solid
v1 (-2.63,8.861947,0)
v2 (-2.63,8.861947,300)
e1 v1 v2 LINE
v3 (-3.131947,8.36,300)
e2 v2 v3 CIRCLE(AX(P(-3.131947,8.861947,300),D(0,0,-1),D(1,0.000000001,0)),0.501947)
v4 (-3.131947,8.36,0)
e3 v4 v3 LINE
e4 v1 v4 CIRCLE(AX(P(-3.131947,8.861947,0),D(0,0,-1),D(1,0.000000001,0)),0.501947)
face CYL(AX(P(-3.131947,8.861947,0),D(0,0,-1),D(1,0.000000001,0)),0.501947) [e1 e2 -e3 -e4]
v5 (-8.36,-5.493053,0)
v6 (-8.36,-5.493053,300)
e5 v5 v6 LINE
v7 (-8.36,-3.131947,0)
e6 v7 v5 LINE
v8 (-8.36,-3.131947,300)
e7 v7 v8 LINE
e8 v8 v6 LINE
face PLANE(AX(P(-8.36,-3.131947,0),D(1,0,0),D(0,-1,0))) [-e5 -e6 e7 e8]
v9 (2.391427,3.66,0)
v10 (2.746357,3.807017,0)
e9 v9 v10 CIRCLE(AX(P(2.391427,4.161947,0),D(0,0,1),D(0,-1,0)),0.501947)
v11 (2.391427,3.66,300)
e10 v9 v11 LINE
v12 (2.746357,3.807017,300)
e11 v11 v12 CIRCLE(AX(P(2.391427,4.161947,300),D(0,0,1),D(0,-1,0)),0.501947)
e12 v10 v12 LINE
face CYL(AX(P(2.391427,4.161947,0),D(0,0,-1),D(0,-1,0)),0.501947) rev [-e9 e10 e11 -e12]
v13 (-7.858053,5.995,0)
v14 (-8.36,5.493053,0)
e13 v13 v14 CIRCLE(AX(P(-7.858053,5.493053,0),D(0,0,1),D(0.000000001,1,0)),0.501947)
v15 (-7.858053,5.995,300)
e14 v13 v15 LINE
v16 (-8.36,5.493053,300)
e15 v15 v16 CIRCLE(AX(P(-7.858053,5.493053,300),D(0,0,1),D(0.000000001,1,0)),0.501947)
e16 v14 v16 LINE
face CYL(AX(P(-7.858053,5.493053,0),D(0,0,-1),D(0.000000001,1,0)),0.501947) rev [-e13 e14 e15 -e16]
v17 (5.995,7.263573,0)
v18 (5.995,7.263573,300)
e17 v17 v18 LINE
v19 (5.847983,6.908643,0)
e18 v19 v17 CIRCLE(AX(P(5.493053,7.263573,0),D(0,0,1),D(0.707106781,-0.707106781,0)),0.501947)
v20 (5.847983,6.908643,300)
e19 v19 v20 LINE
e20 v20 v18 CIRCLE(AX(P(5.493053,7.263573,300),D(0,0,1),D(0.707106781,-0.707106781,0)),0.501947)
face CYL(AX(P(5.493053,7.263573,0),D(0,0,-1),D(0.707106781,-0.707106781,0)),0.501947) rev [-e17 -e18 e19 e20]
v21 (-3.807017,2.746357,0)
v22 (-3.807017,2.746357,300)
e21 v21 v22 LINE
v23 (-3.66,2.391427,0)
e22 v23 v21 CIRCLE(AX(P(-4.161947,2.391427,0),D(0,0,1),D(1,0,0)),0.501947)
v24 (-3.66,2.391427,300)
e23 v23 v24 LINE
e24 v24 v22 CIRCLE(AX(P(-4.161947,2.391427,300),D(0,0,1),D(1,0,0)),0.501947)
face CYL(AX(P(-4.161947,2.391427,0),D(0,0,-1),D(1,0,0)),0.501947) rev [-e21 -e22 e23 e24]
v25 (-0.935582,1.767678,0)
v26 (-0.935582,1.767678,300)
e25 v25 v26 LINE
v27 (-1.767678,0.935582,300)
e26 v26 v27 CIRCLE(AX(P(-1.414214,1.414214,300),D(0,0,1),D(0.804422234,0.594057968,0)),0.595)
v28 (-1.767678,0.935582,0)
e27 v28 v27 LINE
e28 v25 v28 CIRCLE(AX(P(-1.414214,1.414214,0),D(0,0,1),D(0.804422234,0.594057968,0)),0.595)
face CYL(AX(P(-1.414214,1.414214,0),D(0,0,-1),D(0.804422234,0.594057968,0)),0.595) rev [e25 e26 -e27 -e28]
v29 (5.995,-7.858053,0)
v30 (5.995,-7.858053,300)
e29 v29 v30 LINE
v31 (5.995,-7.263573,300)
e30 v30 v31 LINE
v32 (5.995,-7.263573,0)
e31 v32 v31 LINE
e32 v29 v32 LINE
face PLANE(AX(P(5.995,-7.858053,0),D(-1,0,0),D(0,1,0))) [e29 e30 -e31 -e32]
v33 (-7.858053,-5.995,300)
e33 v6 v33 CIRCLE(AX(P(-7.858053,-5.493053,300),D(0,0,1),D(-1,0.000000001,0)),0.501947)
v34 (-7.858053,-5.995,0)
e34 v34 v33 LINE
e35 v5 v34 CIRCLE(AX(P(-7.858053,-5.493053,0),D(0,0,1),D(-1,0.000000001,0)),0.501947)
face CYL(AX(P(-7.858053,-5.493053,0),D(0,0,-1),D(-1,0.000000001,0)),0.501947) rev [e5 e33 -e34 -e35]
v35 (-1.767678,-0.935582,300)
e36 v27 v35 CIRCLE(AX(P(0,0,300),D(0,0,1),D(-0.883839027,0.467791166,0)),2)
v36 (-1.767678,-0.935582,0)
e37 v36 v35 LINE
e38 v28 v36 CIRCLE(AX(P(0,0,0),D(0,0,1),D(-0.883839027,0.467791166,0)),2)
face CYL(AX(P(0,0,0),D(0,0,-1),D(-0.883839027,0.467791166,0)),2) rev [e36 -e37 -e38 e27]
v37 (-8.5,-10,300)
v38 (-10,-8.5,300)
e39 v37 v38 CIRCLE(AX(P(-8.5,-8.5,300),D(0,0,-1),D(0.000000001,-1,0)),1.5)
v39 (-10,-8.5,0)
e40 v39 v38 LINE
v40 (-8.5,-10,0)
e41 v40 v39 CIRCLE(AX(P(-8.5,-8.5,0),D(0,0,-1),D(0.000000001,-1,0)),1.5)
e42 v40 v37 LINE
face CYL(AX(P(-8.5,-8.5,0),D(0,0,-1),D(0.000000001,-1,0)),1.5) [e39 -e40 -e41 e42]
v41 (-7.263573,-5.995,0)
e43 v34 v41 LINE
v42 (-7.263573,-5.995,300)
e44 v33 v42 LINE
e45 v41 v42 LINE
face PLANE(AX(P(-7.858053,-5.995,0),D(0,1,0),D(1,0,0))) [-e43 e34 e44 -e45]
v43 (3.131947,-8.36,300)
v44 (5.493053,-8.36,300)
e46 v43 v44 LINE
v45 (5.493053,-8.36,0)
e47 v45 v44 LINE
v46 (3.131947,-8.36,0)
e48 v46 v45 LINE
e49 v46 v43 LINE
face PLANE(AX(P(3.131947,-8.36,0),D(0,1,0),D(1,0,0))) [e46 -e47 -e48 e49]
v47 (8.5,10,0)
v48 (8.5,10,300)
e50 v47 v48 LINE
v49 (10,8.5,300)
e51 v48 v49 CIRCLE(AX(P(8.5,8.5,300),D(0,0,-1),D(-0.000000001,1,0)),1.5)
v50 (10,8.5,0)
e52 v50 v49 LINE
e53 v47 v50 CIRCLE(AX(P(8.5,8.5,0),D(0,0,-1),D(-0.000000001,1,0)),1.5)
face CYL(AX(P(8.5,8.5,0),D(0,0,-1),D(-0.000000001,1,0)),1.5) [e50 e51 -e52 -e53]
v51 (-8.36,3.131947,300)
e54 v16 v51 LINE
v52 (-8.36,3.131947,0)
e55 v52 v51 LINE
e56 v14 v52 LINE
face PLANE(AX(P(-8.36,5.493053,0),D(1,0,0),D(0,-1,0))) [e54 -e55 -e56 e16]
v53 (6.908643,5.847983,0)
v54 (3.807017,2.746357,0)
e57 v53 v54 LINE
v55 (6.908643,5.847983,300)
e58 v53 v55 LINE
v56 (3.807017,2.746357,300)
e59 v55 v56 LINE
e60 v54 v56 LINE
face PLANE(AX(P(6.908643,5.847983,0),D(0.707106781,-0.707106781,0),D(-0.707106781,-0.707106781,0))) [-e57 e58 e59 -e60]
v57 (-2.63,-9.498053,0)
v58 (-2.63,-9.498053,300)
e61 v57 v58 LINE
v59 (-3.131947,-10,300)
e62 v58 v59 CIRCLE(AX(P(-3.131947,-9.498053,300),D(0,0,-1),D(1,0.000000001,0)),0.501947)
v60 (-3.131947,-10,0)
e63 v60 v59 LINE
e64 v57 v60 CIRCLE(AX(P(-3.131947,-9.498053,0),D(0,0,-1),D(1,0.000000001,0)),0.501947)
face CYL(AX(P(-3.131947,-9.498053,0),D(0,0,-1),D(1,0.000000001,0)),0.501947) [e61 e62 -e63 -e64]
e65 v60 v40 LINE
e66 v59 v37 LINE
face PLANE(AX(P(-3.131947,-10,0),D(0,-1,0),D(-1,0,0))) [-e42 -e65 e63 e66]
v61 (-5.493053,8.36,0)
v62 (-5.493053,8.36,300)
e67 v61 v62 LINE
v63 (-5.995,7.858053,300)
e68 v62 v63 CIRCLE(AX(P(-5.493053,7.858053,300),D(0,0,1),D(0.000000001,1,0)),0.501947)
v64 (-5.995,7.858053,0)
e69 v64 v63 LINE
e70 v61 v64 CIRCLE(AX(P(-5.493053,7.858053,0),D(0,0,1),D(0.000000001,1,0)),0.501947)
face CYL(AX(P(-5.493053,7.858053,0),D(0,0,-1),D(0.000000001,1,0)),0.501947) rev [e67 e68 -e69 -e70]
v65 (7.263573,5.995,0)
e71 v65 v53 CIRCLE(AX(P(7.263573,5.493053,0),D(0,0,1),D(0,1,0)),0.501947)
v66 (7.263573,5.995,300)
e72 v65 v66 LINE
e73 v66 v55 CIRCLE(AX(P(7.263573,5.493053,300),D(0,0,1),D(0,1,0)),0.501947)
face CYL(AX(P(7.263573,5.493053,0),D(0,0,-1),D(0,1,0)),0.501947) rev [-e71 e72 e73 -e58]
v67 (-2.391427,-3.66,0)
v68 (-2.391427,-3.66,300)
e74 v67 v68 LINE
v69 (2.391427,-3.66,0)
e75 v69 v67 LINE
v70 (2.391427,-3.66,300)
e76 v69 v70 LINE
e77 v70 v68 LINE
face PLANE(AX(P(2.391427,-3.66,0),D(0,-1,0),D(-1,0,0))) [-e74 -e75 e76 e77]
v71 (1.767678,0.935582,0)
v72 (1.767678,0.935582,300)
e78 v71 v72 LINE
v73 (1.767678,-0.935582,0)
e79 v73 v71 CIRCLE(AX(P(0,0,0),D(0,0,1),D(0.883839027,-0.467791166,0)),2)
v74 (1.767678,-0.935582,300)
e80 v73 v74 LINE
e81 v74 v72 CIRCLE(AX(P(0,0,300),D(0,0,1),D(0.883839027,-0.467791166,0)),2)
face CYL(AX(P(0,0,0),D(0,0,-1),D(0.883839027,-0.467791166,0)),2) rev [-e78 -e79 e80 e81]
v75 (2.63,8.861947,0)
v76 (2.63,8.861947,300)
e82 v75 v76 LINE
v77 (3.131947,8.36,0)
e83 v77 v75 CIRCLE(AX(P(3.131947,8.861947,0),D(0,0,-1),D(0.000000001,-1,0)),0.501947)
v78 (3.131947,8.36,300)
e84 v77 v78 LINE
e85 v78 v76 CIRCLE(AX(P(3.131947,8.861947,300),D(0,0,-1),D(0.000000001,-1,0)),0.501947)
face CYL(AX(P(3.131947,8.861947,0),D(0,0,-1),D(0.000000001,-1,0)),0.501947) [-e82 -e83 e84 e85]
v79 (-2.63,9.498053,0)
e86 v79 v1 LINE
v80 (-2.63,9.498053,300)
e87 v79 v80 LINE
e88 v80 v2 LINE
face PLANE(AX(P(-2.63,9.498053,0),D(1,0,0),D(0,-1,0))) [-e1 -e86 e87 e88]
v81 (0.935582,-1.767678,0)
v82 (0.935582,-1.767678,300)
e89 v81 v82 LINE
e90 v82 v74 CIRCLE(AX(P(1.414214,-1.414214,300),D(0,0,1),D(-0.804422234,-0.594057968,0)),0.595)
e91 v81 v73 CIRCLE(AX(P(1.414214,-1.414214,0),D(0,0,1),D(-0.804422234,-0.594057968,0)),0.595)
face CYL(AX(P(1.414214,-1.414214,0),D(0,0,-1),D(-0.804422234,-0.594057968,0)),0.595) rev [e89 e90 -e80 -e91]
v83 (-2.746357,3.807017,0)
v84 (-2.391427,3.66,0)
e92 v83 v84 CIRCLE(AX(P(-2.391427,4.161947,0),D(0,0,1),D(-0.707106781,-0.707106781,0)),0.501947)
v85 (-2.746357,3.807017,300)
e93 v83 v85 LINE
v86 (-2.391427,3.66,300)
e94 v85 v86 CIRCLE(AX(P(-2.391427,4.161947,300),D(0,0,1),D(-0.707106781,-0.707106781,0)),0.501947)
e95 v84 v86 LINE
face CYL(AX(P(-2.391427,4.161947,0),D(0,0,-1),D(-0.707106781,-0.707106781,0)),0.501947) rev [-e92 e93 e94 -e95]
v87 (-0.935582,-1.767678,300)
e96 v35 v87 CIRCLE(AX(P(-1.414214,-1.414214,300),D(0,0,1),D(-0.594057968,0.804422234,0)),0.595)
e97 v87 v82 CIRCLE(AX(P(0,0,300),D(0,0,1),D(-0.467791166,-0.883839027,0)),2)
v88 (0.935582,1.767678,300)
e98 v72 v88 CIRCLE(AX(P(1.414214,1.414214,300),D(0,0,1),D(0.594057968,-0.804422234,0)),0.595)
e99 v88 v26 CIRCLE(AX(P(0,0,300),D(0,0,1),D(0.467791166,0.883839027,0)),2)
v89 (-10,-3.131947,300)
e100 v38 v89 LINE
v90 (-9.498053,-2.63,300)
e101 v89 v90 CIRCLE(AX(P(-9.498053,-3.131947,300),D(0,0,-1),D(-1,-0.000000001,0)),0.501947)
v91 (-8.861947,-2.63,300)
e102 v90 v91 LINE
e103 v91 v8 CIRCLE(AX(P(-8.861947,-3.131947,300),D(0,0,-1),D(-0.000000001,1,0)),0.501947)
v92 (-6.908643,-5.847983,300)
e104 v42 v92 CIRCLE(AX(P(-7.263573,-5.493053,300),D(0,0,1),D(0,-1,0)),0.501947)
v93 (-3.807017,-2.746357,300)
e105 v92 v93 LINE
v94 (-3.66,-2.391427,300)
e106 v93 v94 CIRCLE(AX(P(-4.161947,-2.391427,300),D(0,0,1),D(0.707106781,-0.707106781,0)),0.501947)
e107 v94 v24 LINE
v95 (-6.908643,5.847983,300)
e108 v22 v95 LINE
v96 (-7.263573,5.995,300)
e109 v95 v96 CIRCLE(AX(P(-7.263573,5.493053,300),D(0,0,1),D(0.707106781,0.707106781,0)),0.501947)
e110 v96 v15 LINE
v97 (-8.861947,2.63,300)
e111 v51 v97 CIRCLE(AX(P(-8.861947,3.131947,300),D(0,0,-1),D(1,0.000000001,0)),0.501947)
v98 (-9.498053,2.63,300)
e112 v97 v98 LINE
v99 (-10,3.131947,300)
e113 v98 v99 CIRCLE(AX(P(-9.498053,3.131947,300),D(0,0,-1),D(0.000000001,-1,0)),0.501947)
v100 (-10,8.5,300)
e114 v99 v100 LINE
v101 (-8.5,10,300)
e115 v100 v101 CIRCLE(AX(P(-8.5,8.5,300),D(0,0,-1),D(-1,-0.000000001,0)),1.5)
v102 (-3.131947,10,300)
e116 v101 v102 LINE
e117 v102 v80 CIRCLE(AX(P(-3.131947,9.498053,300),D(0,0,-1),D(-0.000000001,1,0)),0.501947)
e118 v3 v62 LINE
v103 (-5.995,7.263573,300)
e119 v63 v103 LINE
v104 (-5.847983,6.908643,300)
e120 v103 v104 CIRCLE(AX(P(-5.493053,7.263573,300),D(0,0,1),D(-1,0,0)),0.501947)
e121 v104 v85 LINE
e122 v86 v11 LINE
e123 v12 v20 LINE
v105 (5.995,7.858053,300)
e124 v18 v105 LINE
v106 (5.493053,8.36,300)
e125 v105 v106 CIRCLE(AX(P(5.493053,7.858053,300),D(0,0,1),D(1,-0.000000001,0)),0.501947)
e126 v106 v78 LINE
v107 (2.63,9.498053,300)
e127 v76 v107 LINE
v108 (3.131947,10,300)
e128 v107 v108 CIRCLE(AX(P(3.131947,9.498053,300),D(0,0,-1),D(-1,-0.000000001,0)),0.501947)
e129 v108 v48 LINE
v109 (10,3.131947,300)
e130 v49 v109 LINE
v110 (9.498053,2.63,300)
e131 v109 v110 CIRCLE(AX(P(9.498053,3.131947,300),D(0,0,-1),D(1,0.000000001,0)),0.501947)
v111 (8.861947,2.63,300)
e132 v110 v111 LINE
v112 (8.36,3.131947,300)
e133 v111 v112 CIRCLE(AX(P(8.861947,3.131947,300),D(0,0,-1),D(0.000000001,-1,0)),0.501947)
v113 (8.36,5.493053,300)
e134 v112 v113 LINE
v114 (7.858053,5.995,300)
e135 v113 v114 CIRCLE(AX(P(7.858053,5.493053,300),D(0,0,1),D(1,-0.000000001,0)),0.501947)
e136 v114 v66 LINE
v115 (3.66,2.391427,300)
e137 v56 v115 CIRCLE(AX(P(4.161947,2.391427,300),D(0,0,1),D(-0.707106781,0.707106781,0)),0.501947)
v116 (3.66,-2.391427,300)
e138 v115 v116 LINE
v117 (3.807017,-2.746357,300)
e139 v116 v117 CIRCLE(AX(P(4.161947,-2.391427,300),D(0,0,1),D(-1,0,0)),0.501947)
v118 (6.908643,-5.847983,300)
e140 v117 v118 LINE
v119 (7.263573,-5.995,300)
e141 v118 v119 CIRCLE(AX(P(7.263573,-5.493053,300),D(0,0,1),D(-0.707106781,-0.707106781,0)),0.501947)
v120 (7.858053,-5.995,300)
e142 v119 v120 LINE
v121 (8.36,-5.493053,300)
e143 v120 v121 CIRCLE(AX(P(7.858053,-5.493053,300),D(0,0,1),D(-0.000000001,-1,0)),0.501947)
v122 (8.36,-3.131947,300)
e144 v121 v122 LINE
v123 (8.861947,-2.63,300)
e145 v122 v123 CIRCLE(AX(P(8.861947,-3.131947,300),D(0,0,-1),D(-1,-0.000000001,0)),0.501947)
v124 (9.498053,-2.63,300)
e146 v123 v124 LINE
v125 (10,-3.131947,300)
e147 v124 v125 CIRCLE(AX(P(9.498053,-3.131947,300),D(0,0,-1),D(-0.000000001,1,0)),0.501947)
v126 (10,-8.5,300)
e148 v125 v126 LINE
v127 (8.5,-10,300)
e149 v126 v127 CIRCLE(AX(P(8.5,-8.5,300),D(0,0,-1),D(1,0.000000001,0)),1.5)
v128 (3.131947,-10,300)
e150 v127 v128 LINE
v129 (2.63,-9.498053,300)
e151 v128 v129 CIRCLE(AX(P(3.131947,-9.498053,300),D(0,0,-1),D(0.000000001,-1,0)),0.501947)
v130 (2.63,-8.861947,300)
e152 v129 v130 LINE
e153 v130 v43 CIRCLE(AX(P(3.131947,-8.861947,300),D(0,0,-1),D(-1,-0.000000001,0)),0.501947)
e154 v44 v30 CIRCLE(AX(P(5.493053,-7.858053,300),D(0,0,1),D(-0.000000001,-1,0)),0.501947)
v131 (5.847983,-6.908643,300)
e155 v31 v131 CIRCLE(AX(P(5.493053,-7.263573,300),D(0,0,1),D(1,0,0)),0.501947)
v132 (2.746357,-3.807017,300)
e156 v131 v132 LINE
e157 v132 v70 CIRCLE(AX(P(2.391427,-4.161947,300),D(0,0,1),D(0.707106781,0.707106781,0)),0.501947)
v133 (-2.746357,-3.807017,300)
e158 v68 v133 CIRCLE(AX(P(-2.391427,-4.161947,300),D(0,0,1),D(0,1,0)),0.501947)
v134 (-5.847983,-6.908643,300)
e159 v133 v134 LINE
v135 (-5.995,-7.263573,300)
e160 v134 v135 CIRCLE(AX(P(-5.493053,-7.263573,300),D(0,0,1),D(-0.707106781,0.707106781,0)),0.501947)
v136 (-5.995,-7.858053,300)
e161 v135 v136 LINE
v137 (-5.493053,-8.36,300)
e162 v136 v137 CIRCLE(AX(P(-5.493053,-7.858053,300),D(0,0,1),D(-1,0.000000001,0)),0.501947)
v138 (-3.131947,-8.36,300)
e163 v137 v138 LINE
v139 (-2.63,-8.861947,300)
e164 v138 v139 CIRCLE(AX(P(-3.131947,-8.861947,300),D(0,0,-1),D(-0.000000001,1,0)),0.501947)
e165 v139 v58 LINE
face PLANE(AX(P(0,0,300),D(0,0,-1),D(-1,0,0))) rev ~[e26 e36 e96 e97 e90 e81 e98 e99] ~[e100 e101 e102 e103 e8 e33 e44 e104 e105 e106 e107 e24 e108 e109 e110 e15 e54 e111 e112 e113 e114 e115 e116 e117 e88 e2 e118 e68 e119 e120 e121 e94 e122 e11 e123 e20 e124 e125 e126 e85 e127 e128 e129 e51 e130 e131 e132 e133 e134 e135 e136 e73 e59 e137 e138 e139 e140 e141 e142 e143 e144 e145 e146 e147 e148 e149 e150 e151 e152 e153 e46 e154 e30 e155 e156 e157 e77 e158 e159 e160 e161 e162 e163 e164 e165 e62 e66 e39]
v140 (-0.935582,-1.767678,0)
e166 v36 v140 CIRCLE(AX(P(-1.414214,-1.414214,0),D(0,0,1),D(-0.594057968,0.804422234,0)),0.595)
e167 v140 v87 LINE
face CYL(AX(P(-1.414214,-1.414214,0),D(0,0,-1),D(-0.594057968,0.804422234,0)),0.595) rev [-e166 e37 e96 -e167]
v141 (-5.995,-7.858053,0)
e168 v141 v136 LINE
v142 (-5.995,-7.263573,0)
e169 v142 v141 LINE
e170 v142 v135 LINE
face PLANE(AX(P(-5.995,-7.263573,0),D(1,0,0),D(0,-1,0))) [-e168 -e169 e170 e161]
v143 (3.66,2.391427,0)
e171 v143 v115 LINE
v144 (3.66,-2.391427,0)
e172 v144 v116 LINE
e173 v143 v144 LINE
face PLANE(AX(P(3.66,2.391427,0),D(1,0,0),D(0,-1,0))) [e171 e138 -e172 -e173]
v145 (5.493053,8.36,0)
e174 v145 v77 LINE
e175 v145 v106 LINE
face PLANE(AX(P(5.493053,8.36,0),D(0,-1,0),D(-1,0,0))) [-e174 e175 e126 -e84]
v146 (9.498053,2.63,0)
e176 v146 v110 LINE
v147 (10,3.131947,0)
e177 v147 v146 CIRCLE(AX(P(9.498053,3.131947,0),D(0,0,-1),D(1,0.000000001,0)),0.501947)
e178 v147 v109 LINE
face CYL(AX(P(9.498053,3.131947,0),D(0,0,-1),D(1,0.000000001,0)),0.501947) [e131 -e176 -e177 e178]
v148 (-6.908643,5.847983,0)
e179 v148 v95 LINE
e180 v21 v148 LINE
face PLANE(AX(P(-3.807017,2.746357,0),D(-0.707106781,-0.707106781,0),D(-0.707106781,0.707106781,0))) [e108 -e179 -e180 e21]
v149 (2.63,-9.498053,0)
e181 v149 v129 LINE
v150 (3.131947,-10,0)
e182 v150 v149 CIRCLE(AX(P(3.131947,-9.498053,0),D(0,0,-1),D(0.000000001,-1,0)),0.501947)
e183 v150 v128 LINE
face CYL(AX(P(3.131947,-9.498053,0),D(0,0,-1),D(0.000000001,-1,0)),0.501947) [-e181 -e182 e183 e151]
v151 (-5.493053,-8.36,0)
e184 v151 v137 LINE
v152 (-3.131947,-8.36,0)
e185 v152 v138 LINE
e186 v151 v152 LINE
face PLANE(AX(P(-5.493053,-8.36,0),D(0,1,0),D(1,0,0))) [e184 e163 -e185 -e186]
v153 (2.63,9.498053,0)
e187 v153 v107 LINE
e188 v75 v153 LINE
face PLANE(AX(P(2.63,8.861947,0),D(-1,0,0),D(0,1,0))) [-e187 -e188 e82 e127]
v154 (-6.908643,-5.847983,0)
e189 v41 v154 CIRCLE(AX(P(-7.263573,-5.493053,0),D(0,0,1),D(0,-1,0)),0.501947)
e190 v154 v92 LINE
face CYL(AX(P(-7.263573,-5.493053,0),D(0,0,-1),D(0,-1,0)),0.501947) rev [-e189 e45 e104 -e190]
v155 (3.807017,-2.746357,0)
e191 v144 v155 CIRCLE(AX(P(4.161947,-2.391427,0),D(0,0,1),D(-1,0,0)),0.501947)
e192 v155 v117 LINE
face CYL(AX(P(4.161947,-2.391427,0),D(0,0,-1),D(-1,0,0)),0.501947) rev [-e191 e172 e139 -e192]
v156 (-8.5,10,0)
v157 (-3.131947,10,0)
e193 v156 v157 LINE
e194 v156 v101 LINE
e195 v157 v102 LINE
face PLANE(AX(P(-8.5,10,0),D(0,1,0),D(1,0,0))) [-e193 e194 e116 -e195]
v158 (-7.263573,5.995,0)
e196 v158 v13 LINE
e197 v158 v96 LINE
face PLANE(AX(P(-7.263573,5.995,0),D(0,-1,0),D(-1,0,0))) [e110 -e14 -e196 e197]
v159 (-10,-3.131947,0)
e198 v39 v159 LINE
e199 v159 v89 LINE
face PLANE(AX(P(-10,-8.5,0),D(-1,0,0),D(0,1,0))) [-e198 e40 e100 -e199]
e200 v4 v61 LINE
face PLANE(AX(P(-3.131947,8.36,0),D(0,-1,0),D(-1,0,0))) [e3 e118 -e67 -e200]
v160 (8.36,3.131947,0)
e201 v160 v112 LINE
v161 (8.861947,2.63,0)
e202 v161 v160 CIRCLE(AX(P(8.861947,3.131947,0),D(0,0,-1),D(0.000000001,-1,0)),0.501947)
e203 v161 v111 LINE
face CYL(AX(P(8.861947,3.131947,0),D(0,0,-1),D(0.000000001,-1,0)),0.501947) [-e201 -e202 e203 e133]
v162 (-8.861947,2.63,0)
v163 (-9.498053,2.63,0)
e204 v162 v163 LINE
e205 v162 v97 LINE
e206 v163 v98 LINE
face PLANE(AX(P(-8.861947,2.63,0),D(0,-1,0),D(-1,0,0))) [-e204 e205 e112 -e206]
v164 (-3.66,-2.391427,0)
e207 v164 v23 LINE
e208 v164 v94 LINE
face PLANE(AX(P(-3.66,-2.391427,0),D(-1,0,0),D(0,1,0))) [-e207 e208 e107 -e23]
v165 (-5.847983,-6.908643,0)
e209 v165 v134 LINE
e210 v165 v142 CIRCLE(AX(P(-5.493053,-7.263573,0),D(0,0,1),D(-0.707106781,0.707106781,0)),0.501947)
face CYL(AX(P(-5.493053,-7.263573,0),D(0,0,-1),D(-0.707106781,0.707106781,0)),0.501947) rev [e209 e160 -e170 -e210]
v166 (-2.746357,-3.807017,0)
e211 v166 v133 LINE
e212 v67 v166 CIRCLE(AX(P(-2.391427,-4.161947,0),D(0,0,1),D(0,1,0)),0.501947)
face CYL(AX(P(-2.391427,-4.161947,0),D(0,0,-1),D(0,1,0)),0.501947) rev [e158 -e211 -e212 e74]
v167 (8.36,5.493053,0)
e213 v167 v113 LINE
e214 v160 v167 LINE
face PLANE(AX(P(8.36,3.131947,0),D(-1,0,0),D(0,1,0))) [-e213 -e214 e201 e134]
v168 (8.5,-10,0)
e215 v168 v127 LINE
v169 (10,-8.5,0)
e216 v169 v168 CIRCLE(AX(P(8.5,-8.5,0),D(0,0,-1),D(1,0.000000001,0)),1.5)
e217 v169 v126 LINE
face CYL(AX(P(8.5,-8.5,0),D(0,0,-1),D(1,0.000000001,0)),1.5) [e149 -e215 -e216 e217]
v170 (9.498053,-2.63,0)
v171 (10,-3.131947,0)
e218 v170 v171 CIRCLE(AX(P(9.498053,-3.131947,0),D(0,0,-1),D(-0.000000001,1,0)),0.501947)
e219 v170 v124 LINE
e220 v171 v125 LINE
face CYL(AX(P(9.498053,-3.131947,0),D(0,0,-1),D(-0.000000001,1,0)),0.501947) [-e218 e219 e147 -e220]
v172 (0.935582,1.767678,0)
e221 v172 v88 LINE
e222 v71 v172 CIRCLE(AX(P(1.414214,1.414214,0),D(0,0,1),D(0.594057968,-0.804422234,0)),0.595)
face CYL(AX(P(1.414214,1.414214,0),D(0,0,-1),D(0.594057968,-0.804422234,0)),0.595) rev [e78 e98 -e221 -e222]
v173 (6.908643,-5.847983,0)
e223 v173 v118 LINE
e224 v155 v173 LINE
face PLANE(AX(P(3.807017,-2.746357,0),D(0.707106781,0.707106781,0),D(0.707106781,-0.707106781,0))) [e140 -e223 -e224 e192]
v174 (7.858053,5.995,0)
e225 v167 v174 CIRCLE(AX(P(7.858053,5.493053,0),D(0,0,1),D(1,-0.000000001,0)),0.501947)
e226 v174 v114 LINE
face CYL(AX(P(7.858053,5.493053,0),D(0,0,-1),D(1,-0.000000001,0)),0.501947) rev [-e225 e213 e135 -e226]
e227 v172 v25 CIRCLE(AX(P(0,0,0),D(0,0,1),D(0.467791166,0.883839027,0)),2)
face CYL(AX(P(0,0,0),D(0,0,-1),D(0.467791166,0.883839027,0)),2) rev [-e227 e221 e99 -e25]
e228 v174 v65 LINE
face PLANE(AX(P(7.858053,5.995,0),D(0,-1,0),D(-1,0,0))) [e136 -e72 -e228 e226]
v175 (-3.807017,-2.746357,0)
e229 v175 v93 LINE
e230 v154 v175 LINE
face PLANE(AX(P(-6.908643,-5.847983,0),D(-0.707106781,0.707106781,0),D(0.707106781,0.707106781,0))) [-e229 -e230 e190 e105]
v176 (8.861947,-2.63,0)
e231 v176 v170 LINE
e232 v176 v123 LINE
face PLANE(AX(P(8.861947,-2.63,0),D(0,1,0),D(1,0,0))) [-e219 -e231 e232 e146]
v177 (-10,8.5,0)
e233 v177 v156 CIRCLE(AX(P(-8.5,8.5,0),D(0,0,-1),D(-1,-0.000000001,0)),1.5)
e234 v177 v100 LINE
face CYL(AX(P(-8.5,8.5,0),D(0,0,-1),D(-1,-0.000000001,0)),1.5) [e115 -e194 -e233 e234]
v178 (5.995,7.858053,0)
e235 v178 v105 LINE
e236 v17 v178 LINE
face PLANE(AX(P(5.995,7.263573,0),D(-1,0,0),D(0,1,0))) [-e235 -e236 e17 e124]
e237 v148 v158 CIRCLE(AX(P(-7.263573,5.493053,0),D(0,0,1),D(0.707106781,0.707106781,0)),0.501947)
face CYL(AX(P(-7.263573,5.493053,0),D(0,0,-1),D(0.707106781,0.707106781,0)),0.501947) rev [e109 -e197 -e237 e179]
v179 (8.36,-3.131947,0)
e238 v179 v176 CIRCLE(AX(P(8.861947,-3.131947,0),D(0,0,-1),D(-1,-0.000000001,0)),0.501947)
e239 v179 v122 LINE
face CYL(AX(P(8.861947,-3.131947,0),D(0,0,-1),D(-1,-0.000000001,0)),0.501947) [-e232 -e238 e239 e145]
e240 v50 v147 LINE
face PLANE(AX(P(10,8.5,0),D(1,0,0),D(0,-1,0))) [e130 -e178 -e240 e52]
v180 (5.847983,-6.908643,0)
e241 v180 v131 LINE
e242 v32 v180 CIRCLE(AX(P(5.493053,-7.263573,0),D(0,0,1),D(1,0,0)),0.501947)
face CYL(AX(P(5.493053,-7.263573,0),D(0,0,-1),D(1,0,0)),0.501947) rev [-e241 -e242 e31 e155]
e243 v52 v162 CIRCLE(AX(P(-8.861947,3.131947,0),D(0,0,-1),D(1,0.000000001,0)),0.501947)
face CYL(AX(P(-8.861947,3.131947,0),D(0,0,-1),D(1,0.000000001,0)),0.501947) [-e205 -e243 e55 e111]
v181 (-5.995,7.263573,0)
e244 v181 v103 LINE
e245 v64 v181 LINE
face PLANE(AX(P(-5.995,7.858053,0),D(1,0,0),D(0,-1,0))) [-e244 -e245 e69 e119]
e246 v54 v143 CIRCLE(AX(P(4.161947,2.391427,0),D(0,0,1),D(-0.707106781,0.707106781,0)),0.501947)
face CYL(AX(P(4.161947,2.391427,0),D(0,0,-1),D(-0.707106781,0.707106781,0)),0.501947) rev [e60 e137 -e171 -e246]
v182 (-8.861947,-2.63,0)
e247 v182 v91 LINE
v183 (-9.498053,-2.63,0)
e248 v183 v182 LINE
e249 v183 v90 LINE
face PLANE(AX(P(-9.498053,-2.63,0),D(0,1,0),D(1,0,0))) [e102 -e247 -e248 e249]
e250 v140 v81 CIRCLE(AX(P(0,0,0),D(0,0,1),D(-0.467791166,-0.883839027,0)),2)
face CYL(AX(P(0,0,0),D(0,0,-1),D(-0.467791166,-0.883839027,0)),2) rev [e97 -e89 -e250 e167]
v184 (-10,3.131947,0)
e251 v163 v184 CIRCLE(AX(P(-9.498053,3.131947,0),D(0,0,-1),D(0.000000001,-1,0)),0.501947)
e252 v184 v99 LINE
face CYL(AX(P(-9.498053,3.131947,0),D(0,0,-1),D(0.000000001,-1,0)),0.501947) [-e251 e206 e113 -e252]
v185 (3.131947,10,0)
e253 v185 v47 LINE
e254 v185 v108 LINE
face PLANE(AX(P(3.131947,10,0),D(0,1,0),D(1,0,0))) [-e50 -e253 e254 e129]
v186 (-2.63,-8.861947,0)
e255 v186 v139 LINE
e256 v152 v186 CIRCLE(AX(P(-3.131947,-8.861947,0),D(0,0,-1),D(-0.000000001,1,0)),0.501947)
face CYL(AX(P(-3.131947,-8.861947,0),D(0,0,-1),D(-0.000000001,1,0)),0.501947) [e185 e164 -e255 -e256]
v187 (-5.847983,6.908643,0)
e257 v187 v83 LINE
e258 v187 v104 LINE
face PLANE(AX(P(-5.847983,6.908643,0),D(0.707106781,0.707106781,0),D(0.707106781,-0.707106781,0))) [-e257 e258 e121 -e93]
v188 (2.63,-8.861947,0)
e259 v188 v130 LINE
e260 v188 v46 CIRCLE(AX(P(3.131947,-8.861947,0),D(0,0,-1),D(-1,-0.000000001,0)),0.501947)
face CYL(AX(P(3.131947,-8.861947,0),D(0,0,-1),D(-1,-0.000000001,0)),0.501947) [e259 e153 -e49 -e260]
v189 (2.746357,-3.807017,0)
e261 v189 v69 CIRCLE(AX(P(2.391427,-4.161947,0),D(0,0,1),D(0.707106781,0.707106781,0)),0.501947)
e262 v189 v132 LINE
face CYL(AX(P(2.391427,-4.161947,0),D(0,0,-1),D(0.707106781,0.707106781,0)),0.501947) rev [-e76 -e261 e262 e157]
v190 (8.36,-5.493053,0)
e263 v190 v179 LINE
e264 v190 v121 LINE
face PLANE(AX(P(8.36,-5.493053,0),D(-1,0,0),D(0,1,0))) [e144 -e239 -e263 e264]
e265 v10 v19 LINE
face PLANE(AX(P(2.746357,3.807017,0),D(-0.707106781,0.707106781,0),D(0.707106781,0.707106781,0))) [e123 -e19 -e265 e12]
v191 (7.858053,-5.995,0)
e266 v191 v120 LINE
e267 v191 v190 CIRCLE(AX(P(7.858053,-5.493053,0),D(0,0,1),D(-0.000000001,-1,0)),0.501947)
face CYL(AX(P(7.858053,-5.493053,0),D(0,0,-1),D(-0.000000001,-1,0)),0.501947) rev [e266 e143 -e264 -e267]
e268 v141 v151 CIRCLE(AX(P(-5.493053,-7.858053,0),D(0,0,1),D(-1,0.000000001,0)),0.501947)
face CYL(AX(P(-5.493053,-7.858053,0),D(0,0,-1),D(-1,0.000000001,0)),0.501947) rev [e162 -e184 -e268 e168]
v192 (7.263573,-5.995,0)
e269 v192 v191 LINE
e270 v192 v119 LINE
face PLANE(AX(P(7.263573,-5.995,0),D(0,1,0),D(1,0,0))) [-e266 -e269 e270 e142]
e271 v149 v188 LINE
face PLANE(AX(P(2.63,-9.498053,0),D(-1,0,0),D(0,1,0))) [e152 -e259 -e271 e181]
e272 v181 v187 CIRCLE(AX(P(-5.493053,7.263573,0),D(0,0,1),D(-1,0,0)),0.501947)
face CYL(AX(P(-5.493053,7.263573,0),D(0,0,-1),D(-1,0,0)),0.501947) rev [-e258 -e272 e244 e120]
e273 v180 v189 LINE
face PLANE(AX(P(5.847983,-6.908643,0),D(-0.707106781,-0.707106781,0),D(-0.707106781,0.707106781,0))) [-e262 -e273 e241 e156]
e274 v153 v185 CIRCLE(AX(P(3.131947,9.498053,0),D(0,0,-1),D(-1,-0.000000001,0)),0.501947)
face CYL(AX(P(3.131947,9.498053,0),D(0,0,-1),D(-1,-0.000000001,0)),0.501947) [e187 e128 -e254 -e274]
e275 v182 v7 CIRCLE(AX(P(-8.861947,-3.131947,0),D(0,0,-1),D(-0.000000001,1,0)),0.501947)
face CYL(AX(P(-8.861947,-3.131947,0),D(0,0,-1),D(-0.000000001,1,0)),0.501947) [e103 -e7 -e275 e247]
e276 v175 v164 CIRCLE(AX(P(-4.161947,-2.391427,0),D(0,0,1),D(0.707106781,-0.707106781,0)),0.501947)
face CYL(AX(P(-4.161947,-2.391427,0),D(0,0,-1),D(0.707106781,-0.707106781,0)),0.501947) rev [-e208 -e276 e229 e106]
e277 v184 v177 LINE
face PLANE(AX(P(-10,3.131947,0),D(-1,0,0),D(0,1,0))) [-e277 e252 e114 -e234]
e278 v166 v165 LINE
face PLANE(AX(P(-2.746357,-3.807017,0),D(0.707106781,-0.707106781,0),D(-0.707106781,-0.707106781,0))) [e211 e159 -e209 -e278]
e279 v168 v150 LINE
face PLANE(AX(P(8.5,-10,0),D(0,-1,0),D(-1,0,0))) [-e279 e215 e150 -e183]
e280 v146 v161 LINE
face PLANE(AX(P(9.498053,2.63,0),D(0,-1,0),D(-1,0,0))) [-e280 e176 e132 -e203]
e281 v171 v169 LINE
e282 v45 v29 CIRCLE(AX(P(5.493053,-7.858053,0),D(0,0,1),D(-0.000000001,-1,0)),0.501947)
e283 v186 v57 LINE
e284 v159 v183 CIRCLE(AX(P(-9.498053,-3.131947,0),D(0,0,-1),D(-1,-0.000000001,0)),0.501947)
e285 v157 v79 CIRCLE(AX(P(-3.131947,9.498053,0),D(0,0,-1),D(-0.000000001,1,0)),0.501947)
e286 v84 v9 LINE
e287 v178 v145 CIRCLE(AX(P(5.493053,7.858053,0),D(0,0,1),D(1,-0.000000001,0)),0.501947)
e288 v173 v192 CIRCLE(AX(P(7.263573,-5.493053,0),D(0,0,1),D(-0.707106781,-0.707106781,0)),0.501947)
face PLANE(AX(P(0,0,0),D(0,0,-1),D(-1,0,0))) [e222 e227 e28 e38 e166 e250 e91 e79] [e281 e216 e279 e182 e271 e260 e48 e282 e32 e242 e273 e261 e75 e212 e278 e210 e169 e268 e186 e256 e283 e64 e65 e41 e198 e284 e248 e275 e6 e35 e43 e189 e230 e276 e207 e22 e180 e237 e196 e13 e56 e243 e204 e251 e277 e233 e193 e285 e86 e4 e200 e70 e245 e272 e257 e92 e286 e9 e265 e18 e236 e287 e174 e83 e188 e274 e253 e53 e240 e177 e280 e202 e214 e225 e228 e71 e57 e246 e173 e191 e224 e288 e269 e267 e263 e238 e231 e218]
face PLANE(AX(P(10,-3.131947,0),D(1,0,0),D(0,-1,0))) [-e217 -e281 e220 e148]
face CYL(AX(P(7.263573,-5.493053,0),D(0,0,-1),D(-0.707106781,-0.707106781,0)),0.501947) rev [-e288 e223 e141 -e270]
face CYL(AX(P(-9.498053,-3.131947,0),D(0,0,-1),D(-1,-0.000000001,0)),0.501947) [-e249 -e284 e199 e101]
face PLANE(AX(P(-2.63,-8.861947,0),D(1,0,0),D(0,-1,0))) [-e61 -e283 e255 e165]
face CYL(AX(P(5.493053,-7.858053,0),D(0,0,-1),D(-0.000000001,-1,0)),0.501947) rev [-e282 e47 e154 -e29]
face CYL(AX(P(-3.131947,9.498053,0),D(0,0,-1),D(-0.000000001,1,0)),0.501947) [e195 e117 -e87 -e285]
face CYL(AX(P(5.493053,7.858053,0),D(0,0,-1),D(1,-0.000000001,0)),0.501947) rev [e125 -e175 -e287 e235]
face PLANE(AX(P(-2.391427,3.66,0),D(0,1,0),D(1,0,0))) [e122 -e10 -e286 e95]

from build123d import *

# Parameters (mm, degrees)
BOSS_EXTRUDE1_DEPTH = 300


with BuildPart() as part:
    # Sketch1 → Boss-Extrude1 (new body)
    with BuildSketch(Plane.XY):
        with BuildLine():
            Line((-2.746356642, -3.807016814), (-5.847983186, -6.908643358))
            ThreePointArc((-5.847983186, -6.908643358), (-5.956791575, -7.07148662), (-5.995, -7.263573344))
            Line((-5.995, -7.263573344), (-5.995, -7.858053199))
            ThreePointArc((-5.995, -7.858053199), (-5.847983186, -8.212983186), (-5.493053199, -8.36))
            Line((-5.493053199, -8.36), (-3.131946801, -8.36))
            ThreePointArc((-3.131946801, -8.36), (-2.777016814, -8.507016814), (-2.63, -8.861946801))
            Line((-2.63, -8.861946801), (-2.63, -9.498053199))
            ThreePointArc((-2.63, -9.498053199), (-2.777016814, -9.852983186), (-3.131946801, -10))
            Line((-3.131946801, -10), (-8.5, -10))
            ThreePointArc((-8.5, -10), (-9.560660172, -9.560660172), (-10, -8.5))
            Line((-10, -8.5), (-10, -3.131946801))
            ThreePointArc((-10, -3.131946801), (-9.852983186, -2.777016814), (-9.498053199, -2.63))
            Line((-9.498053199, -2.63), (-8.861946801, -2.63))
            ThreePointArc((-8.861946801, -2.63), (-8.507016814, -2.777016814), (-8.36, -3.131946801))
            Line((-8.36, -3.131946801), (-8.36, -5.493053199))
            ThreePointArc((-8.36, -5.493053199), (-8.212983186, -5.847983186), (-7.858053199, -5.995))
            Line((-7.858053199, -5.995), (-7.263573344, -5.995))
            ThreePointArc((-7.263573344, -5.995), (-7.07148662, -5.956791575), (-6.908643358, -5.847983186))
            Line((-6.908643358, -5.847983186), (-3.807016814, -2.746356642))
            ThreePointArc((-3.807016814, -2.746356642), (-3.698208425, -2.58351338), (-3.66, -2.391426656))
            Line((-3.66, -2.391426656), (-3.66, 2.391426656))
            ThreePointArc((-3.66, 2.391426656), (-3.698208425, 2.58351338), (-3.807016814, 2.746356642))
            Line((-3.807016814, 2.746356642), (-6.908643358, 5.847983186))
            ThreePointArc((-6.908643358, 5.847983186), (-7.07148662, 5.956791575), (-7.263573344, 5.995))
            Line((-7.263573344, 5.995), (-7.858053199, 5.995))
            ThreePointArc((-7.858053199, 5.995), (-8.212983186, 5.847983186), (-8.36, 5.493053199))
            Line((-8.36, 5.493053199), (-8.36, 3.131946801))
            ThreePointArc((-8.36, 3.131946801), (-8.507016814, 2.777016814), (-8.861946801, 2.63))
            Line((-8.861946801, 2.63), (-9.498053199, 2.63))
            ThreePointArc((-9.498053199, 2.63), (-9.852983186, 2.777016814), (-10, 3.131946801))
            Line((-10, 3.131946801), (-10, 8.5))
            ThreePointArc((-10, 8.5), (-9.560660172, 9.560660172), (-8.5, 10))
            Line((-8.5, 10), (-3.131946801, 10))
            ThreePointArc((-3.131946801, 10), (-2.777016814, 9.852983186), (-2.63, 9.498053199))
            Line((-2.63, 9.498053199), (-2.63, 8.861946801))
            ThreePointArc((-2.63, 8.861946801), (-2.777016814, 8.507016814), (-3.131946801, 8.36))
            Line((-3.131946801, 8.36), (-5.493053199, 8.36))
            ThreePointArc((-5.493053199, 8.36), (-5.847983186, 8.212983186), (-5.995, 7.858053199))
            Line((-5.995, 7.858053199), (-5.995, 7.263573344))
            ThreePointArc((-5.995, 7.263573344), (-5.956791575, 7.07148662), (-5.847983186, 6.908643358))
            Line((-5.847983186, 6.908643358), (-2.746356642, 3.807016814))
            ThreePointArc((-2.746356642, 3.807016814), (-2.58351338, 3.698208425), (-2.391426656, 3.66))
            Line((-2.391426656, 3.66), (2.391426656, 3.66))
            ThreePointArc((2.391426656, 3.66), (2.58351338, 3.698208425), (2.746356642, 3.807016814))
            Line((2.746356642, 3.807016814), (5.847983186, 6.908643358))
            ThreePointArc((5.847983186, 6.908643358), (5.956791575, 7.07148662), (5.995, 7.263573344))
            Line((5.995, 7.263573344), (5.995, 7.858053199))
            ThreePointArc((5.995, 7.858053199), (5.847983186, 8.212983186), (5.493053199, 8.36))
            Line((5.493053199, 8.36), (3.131946801, 8.36))
            ThreePointArc((3.131946801, 8.36), (2.777016814, 8.507016814), (2.63, 8.861946801))
            Line((2.63, 8.861946801), (2.63, 9.498053199))
            ThreePointArc((2.63, 9.498053199), (2.777016814, 9.852983186), (3.131946801, 10))
            Line((3.131946801, 10), (8.5, 10))
            ThreePointArc((8.5, 10), (9.560660172, 9.560660172), (10, 8.5))
            Line((10, 8.5), (10, 3.131946801))
            ThreePointArc((10, 3.131946801), (9.852983186, 2.777016814), (9.498053199, 2.63))
            Line((9.498053199, 2.63), (8.861946801, 2.63))
            ThreePointArc((8.861946801, 2.63), (8.507016814, 2.777016814), (8.36, 3.131946801))
            Line((8.36, 3.131946801), (8.36, 5.493053199))
            ThreePointArc((8.36, 5.493053199), (8.212983186, 5.847983186), (7.858053199, 5.995))
            Line((7.858053199, 5.995), (7.263573344, 5.995))
            ThreePointArc((7.263573344, 5.995), (7.07148662, 5.956791575), (6.908643358, 5.847983186))
            Line((6.908643358, 5.847983186), (3.807016814, 2.746356642))
            ThreePointArc((3.807016814, 2.746356642), (3.698208425, 2.58351338), (3.66, 2.391426656))
            Line((3.66, 2.391426656), (3.66, -2.391426656))
            ThreePointArc((3.66, -2.391426656), (3.698208425, -2.58351338), (3.807016814, -2.746356642))
            Line((3.807016814, -2.746356642), (6.908643358, -5.847983186))
            ThreePointArc((6.908643358, -5.847983186), (7.07148662, -5.956791575), (7.263573344, -5.995))
            Line((7.263573344, -5.995), (7.858053199, -5.995))
            ThreePointArc((7.858053199, -5.995), (8.212983186, -5.847983186), (8.36, -5.493053199))
            Line((8.36, -5.493053199), (8.36, -3.131946801))
            ThreePointArc((8.36, -3.131946801), (8.507016814, -2.777016814), (8.861946801, -2.63))
            Line((8.861946801, -2.63), (9.498053199, -2.63))
            ThreePointArc((9.498053199, -2.63), (9.852983186, -2.777016814), (10, -3.131946801))
            Line((10, -3.131946801), (10, -8.5))
            ThreePointArc((10, -8.5), (9.560660172, -9.560660172), (8.5, -10))
            Line((8.5, -10), (3.131946801, -10))
            ThreePointArc((3.131946801, -10), (2.777016814, -9.852983186), (2.63, -9.498053199))
            Line((2.63, -9.498053199), (2.63, -8.861946801))
            ThreePointArc((2.63, -8.861946801), (2.777016814, -8.507016814), (3.131946801, -8.36))
            Line((3.131946801, -8.36), (5.493053199, -8.36))
            ThreePointArc((5.493053199, -8.36), (5.847983186, -8.212983186), (5.995, -7.858053199))
            Line((5.995, -7.858053199), (5.995, -7.263573344))
            ThreePointArc((5.995, -7.263573344), (5.956791575, -7.07148662), (5.847983186, -6.908643358))
            Line((5.847983186, -6.908643358), (2.746356642, -3.807016814))
            ThreePointArc((2.746356642, -3.807016814), (2.58351338, -3.698208425), (2.391426656, -3.66))
            Line((2.391426656, -3.66), (-2.391426656, -3.66))
            ThreePointArc((-2.391426656, -3.66), (-2.58351338, -3.698208425), (-2.746356642, -3.807016814))
        make_face()
        with BuildLine():
            ThreePointArc((-1.767678053, 0.935582333), (-2, 0), (-1.767678053, -0.935582333))
            ThreePointArc((-1.767678053, -0.935582333), (-1.834942097, -1.834942097), (-0.935582333, -1.767678053))
            ThreePointArc((-0.935582333, -1.767678053), (0, -2), (0.935582333, -1.767678053))
            ThreePointArc((0.935582333, -1.767678053), (1.834942097, -1.834942097), (1.767678053, -0.935582333))
            ThreePointArc((1.767678053, -0.935582333), (2, 0), (1.767678053, 0.935582333))
            ThreePointArc((1.767678053, 0.935582333), (1.834942097, 1.834942097), (0.935582333, 1.767678053))
            ThreePointArc((0.935582333, 1.767678053), (0, 2), (-0.935582333, 1.767678053))
            ThreePointArc((-0.935582333, 1.767678053), (-1.834942097, 1.834942097), (-1.767678053, 0.935582333))
        make_face(mode=Mode.SUBTRACT)
    extrude(amount=BOSS_EXTRUDE1_DEPTH)


solid = part.part
